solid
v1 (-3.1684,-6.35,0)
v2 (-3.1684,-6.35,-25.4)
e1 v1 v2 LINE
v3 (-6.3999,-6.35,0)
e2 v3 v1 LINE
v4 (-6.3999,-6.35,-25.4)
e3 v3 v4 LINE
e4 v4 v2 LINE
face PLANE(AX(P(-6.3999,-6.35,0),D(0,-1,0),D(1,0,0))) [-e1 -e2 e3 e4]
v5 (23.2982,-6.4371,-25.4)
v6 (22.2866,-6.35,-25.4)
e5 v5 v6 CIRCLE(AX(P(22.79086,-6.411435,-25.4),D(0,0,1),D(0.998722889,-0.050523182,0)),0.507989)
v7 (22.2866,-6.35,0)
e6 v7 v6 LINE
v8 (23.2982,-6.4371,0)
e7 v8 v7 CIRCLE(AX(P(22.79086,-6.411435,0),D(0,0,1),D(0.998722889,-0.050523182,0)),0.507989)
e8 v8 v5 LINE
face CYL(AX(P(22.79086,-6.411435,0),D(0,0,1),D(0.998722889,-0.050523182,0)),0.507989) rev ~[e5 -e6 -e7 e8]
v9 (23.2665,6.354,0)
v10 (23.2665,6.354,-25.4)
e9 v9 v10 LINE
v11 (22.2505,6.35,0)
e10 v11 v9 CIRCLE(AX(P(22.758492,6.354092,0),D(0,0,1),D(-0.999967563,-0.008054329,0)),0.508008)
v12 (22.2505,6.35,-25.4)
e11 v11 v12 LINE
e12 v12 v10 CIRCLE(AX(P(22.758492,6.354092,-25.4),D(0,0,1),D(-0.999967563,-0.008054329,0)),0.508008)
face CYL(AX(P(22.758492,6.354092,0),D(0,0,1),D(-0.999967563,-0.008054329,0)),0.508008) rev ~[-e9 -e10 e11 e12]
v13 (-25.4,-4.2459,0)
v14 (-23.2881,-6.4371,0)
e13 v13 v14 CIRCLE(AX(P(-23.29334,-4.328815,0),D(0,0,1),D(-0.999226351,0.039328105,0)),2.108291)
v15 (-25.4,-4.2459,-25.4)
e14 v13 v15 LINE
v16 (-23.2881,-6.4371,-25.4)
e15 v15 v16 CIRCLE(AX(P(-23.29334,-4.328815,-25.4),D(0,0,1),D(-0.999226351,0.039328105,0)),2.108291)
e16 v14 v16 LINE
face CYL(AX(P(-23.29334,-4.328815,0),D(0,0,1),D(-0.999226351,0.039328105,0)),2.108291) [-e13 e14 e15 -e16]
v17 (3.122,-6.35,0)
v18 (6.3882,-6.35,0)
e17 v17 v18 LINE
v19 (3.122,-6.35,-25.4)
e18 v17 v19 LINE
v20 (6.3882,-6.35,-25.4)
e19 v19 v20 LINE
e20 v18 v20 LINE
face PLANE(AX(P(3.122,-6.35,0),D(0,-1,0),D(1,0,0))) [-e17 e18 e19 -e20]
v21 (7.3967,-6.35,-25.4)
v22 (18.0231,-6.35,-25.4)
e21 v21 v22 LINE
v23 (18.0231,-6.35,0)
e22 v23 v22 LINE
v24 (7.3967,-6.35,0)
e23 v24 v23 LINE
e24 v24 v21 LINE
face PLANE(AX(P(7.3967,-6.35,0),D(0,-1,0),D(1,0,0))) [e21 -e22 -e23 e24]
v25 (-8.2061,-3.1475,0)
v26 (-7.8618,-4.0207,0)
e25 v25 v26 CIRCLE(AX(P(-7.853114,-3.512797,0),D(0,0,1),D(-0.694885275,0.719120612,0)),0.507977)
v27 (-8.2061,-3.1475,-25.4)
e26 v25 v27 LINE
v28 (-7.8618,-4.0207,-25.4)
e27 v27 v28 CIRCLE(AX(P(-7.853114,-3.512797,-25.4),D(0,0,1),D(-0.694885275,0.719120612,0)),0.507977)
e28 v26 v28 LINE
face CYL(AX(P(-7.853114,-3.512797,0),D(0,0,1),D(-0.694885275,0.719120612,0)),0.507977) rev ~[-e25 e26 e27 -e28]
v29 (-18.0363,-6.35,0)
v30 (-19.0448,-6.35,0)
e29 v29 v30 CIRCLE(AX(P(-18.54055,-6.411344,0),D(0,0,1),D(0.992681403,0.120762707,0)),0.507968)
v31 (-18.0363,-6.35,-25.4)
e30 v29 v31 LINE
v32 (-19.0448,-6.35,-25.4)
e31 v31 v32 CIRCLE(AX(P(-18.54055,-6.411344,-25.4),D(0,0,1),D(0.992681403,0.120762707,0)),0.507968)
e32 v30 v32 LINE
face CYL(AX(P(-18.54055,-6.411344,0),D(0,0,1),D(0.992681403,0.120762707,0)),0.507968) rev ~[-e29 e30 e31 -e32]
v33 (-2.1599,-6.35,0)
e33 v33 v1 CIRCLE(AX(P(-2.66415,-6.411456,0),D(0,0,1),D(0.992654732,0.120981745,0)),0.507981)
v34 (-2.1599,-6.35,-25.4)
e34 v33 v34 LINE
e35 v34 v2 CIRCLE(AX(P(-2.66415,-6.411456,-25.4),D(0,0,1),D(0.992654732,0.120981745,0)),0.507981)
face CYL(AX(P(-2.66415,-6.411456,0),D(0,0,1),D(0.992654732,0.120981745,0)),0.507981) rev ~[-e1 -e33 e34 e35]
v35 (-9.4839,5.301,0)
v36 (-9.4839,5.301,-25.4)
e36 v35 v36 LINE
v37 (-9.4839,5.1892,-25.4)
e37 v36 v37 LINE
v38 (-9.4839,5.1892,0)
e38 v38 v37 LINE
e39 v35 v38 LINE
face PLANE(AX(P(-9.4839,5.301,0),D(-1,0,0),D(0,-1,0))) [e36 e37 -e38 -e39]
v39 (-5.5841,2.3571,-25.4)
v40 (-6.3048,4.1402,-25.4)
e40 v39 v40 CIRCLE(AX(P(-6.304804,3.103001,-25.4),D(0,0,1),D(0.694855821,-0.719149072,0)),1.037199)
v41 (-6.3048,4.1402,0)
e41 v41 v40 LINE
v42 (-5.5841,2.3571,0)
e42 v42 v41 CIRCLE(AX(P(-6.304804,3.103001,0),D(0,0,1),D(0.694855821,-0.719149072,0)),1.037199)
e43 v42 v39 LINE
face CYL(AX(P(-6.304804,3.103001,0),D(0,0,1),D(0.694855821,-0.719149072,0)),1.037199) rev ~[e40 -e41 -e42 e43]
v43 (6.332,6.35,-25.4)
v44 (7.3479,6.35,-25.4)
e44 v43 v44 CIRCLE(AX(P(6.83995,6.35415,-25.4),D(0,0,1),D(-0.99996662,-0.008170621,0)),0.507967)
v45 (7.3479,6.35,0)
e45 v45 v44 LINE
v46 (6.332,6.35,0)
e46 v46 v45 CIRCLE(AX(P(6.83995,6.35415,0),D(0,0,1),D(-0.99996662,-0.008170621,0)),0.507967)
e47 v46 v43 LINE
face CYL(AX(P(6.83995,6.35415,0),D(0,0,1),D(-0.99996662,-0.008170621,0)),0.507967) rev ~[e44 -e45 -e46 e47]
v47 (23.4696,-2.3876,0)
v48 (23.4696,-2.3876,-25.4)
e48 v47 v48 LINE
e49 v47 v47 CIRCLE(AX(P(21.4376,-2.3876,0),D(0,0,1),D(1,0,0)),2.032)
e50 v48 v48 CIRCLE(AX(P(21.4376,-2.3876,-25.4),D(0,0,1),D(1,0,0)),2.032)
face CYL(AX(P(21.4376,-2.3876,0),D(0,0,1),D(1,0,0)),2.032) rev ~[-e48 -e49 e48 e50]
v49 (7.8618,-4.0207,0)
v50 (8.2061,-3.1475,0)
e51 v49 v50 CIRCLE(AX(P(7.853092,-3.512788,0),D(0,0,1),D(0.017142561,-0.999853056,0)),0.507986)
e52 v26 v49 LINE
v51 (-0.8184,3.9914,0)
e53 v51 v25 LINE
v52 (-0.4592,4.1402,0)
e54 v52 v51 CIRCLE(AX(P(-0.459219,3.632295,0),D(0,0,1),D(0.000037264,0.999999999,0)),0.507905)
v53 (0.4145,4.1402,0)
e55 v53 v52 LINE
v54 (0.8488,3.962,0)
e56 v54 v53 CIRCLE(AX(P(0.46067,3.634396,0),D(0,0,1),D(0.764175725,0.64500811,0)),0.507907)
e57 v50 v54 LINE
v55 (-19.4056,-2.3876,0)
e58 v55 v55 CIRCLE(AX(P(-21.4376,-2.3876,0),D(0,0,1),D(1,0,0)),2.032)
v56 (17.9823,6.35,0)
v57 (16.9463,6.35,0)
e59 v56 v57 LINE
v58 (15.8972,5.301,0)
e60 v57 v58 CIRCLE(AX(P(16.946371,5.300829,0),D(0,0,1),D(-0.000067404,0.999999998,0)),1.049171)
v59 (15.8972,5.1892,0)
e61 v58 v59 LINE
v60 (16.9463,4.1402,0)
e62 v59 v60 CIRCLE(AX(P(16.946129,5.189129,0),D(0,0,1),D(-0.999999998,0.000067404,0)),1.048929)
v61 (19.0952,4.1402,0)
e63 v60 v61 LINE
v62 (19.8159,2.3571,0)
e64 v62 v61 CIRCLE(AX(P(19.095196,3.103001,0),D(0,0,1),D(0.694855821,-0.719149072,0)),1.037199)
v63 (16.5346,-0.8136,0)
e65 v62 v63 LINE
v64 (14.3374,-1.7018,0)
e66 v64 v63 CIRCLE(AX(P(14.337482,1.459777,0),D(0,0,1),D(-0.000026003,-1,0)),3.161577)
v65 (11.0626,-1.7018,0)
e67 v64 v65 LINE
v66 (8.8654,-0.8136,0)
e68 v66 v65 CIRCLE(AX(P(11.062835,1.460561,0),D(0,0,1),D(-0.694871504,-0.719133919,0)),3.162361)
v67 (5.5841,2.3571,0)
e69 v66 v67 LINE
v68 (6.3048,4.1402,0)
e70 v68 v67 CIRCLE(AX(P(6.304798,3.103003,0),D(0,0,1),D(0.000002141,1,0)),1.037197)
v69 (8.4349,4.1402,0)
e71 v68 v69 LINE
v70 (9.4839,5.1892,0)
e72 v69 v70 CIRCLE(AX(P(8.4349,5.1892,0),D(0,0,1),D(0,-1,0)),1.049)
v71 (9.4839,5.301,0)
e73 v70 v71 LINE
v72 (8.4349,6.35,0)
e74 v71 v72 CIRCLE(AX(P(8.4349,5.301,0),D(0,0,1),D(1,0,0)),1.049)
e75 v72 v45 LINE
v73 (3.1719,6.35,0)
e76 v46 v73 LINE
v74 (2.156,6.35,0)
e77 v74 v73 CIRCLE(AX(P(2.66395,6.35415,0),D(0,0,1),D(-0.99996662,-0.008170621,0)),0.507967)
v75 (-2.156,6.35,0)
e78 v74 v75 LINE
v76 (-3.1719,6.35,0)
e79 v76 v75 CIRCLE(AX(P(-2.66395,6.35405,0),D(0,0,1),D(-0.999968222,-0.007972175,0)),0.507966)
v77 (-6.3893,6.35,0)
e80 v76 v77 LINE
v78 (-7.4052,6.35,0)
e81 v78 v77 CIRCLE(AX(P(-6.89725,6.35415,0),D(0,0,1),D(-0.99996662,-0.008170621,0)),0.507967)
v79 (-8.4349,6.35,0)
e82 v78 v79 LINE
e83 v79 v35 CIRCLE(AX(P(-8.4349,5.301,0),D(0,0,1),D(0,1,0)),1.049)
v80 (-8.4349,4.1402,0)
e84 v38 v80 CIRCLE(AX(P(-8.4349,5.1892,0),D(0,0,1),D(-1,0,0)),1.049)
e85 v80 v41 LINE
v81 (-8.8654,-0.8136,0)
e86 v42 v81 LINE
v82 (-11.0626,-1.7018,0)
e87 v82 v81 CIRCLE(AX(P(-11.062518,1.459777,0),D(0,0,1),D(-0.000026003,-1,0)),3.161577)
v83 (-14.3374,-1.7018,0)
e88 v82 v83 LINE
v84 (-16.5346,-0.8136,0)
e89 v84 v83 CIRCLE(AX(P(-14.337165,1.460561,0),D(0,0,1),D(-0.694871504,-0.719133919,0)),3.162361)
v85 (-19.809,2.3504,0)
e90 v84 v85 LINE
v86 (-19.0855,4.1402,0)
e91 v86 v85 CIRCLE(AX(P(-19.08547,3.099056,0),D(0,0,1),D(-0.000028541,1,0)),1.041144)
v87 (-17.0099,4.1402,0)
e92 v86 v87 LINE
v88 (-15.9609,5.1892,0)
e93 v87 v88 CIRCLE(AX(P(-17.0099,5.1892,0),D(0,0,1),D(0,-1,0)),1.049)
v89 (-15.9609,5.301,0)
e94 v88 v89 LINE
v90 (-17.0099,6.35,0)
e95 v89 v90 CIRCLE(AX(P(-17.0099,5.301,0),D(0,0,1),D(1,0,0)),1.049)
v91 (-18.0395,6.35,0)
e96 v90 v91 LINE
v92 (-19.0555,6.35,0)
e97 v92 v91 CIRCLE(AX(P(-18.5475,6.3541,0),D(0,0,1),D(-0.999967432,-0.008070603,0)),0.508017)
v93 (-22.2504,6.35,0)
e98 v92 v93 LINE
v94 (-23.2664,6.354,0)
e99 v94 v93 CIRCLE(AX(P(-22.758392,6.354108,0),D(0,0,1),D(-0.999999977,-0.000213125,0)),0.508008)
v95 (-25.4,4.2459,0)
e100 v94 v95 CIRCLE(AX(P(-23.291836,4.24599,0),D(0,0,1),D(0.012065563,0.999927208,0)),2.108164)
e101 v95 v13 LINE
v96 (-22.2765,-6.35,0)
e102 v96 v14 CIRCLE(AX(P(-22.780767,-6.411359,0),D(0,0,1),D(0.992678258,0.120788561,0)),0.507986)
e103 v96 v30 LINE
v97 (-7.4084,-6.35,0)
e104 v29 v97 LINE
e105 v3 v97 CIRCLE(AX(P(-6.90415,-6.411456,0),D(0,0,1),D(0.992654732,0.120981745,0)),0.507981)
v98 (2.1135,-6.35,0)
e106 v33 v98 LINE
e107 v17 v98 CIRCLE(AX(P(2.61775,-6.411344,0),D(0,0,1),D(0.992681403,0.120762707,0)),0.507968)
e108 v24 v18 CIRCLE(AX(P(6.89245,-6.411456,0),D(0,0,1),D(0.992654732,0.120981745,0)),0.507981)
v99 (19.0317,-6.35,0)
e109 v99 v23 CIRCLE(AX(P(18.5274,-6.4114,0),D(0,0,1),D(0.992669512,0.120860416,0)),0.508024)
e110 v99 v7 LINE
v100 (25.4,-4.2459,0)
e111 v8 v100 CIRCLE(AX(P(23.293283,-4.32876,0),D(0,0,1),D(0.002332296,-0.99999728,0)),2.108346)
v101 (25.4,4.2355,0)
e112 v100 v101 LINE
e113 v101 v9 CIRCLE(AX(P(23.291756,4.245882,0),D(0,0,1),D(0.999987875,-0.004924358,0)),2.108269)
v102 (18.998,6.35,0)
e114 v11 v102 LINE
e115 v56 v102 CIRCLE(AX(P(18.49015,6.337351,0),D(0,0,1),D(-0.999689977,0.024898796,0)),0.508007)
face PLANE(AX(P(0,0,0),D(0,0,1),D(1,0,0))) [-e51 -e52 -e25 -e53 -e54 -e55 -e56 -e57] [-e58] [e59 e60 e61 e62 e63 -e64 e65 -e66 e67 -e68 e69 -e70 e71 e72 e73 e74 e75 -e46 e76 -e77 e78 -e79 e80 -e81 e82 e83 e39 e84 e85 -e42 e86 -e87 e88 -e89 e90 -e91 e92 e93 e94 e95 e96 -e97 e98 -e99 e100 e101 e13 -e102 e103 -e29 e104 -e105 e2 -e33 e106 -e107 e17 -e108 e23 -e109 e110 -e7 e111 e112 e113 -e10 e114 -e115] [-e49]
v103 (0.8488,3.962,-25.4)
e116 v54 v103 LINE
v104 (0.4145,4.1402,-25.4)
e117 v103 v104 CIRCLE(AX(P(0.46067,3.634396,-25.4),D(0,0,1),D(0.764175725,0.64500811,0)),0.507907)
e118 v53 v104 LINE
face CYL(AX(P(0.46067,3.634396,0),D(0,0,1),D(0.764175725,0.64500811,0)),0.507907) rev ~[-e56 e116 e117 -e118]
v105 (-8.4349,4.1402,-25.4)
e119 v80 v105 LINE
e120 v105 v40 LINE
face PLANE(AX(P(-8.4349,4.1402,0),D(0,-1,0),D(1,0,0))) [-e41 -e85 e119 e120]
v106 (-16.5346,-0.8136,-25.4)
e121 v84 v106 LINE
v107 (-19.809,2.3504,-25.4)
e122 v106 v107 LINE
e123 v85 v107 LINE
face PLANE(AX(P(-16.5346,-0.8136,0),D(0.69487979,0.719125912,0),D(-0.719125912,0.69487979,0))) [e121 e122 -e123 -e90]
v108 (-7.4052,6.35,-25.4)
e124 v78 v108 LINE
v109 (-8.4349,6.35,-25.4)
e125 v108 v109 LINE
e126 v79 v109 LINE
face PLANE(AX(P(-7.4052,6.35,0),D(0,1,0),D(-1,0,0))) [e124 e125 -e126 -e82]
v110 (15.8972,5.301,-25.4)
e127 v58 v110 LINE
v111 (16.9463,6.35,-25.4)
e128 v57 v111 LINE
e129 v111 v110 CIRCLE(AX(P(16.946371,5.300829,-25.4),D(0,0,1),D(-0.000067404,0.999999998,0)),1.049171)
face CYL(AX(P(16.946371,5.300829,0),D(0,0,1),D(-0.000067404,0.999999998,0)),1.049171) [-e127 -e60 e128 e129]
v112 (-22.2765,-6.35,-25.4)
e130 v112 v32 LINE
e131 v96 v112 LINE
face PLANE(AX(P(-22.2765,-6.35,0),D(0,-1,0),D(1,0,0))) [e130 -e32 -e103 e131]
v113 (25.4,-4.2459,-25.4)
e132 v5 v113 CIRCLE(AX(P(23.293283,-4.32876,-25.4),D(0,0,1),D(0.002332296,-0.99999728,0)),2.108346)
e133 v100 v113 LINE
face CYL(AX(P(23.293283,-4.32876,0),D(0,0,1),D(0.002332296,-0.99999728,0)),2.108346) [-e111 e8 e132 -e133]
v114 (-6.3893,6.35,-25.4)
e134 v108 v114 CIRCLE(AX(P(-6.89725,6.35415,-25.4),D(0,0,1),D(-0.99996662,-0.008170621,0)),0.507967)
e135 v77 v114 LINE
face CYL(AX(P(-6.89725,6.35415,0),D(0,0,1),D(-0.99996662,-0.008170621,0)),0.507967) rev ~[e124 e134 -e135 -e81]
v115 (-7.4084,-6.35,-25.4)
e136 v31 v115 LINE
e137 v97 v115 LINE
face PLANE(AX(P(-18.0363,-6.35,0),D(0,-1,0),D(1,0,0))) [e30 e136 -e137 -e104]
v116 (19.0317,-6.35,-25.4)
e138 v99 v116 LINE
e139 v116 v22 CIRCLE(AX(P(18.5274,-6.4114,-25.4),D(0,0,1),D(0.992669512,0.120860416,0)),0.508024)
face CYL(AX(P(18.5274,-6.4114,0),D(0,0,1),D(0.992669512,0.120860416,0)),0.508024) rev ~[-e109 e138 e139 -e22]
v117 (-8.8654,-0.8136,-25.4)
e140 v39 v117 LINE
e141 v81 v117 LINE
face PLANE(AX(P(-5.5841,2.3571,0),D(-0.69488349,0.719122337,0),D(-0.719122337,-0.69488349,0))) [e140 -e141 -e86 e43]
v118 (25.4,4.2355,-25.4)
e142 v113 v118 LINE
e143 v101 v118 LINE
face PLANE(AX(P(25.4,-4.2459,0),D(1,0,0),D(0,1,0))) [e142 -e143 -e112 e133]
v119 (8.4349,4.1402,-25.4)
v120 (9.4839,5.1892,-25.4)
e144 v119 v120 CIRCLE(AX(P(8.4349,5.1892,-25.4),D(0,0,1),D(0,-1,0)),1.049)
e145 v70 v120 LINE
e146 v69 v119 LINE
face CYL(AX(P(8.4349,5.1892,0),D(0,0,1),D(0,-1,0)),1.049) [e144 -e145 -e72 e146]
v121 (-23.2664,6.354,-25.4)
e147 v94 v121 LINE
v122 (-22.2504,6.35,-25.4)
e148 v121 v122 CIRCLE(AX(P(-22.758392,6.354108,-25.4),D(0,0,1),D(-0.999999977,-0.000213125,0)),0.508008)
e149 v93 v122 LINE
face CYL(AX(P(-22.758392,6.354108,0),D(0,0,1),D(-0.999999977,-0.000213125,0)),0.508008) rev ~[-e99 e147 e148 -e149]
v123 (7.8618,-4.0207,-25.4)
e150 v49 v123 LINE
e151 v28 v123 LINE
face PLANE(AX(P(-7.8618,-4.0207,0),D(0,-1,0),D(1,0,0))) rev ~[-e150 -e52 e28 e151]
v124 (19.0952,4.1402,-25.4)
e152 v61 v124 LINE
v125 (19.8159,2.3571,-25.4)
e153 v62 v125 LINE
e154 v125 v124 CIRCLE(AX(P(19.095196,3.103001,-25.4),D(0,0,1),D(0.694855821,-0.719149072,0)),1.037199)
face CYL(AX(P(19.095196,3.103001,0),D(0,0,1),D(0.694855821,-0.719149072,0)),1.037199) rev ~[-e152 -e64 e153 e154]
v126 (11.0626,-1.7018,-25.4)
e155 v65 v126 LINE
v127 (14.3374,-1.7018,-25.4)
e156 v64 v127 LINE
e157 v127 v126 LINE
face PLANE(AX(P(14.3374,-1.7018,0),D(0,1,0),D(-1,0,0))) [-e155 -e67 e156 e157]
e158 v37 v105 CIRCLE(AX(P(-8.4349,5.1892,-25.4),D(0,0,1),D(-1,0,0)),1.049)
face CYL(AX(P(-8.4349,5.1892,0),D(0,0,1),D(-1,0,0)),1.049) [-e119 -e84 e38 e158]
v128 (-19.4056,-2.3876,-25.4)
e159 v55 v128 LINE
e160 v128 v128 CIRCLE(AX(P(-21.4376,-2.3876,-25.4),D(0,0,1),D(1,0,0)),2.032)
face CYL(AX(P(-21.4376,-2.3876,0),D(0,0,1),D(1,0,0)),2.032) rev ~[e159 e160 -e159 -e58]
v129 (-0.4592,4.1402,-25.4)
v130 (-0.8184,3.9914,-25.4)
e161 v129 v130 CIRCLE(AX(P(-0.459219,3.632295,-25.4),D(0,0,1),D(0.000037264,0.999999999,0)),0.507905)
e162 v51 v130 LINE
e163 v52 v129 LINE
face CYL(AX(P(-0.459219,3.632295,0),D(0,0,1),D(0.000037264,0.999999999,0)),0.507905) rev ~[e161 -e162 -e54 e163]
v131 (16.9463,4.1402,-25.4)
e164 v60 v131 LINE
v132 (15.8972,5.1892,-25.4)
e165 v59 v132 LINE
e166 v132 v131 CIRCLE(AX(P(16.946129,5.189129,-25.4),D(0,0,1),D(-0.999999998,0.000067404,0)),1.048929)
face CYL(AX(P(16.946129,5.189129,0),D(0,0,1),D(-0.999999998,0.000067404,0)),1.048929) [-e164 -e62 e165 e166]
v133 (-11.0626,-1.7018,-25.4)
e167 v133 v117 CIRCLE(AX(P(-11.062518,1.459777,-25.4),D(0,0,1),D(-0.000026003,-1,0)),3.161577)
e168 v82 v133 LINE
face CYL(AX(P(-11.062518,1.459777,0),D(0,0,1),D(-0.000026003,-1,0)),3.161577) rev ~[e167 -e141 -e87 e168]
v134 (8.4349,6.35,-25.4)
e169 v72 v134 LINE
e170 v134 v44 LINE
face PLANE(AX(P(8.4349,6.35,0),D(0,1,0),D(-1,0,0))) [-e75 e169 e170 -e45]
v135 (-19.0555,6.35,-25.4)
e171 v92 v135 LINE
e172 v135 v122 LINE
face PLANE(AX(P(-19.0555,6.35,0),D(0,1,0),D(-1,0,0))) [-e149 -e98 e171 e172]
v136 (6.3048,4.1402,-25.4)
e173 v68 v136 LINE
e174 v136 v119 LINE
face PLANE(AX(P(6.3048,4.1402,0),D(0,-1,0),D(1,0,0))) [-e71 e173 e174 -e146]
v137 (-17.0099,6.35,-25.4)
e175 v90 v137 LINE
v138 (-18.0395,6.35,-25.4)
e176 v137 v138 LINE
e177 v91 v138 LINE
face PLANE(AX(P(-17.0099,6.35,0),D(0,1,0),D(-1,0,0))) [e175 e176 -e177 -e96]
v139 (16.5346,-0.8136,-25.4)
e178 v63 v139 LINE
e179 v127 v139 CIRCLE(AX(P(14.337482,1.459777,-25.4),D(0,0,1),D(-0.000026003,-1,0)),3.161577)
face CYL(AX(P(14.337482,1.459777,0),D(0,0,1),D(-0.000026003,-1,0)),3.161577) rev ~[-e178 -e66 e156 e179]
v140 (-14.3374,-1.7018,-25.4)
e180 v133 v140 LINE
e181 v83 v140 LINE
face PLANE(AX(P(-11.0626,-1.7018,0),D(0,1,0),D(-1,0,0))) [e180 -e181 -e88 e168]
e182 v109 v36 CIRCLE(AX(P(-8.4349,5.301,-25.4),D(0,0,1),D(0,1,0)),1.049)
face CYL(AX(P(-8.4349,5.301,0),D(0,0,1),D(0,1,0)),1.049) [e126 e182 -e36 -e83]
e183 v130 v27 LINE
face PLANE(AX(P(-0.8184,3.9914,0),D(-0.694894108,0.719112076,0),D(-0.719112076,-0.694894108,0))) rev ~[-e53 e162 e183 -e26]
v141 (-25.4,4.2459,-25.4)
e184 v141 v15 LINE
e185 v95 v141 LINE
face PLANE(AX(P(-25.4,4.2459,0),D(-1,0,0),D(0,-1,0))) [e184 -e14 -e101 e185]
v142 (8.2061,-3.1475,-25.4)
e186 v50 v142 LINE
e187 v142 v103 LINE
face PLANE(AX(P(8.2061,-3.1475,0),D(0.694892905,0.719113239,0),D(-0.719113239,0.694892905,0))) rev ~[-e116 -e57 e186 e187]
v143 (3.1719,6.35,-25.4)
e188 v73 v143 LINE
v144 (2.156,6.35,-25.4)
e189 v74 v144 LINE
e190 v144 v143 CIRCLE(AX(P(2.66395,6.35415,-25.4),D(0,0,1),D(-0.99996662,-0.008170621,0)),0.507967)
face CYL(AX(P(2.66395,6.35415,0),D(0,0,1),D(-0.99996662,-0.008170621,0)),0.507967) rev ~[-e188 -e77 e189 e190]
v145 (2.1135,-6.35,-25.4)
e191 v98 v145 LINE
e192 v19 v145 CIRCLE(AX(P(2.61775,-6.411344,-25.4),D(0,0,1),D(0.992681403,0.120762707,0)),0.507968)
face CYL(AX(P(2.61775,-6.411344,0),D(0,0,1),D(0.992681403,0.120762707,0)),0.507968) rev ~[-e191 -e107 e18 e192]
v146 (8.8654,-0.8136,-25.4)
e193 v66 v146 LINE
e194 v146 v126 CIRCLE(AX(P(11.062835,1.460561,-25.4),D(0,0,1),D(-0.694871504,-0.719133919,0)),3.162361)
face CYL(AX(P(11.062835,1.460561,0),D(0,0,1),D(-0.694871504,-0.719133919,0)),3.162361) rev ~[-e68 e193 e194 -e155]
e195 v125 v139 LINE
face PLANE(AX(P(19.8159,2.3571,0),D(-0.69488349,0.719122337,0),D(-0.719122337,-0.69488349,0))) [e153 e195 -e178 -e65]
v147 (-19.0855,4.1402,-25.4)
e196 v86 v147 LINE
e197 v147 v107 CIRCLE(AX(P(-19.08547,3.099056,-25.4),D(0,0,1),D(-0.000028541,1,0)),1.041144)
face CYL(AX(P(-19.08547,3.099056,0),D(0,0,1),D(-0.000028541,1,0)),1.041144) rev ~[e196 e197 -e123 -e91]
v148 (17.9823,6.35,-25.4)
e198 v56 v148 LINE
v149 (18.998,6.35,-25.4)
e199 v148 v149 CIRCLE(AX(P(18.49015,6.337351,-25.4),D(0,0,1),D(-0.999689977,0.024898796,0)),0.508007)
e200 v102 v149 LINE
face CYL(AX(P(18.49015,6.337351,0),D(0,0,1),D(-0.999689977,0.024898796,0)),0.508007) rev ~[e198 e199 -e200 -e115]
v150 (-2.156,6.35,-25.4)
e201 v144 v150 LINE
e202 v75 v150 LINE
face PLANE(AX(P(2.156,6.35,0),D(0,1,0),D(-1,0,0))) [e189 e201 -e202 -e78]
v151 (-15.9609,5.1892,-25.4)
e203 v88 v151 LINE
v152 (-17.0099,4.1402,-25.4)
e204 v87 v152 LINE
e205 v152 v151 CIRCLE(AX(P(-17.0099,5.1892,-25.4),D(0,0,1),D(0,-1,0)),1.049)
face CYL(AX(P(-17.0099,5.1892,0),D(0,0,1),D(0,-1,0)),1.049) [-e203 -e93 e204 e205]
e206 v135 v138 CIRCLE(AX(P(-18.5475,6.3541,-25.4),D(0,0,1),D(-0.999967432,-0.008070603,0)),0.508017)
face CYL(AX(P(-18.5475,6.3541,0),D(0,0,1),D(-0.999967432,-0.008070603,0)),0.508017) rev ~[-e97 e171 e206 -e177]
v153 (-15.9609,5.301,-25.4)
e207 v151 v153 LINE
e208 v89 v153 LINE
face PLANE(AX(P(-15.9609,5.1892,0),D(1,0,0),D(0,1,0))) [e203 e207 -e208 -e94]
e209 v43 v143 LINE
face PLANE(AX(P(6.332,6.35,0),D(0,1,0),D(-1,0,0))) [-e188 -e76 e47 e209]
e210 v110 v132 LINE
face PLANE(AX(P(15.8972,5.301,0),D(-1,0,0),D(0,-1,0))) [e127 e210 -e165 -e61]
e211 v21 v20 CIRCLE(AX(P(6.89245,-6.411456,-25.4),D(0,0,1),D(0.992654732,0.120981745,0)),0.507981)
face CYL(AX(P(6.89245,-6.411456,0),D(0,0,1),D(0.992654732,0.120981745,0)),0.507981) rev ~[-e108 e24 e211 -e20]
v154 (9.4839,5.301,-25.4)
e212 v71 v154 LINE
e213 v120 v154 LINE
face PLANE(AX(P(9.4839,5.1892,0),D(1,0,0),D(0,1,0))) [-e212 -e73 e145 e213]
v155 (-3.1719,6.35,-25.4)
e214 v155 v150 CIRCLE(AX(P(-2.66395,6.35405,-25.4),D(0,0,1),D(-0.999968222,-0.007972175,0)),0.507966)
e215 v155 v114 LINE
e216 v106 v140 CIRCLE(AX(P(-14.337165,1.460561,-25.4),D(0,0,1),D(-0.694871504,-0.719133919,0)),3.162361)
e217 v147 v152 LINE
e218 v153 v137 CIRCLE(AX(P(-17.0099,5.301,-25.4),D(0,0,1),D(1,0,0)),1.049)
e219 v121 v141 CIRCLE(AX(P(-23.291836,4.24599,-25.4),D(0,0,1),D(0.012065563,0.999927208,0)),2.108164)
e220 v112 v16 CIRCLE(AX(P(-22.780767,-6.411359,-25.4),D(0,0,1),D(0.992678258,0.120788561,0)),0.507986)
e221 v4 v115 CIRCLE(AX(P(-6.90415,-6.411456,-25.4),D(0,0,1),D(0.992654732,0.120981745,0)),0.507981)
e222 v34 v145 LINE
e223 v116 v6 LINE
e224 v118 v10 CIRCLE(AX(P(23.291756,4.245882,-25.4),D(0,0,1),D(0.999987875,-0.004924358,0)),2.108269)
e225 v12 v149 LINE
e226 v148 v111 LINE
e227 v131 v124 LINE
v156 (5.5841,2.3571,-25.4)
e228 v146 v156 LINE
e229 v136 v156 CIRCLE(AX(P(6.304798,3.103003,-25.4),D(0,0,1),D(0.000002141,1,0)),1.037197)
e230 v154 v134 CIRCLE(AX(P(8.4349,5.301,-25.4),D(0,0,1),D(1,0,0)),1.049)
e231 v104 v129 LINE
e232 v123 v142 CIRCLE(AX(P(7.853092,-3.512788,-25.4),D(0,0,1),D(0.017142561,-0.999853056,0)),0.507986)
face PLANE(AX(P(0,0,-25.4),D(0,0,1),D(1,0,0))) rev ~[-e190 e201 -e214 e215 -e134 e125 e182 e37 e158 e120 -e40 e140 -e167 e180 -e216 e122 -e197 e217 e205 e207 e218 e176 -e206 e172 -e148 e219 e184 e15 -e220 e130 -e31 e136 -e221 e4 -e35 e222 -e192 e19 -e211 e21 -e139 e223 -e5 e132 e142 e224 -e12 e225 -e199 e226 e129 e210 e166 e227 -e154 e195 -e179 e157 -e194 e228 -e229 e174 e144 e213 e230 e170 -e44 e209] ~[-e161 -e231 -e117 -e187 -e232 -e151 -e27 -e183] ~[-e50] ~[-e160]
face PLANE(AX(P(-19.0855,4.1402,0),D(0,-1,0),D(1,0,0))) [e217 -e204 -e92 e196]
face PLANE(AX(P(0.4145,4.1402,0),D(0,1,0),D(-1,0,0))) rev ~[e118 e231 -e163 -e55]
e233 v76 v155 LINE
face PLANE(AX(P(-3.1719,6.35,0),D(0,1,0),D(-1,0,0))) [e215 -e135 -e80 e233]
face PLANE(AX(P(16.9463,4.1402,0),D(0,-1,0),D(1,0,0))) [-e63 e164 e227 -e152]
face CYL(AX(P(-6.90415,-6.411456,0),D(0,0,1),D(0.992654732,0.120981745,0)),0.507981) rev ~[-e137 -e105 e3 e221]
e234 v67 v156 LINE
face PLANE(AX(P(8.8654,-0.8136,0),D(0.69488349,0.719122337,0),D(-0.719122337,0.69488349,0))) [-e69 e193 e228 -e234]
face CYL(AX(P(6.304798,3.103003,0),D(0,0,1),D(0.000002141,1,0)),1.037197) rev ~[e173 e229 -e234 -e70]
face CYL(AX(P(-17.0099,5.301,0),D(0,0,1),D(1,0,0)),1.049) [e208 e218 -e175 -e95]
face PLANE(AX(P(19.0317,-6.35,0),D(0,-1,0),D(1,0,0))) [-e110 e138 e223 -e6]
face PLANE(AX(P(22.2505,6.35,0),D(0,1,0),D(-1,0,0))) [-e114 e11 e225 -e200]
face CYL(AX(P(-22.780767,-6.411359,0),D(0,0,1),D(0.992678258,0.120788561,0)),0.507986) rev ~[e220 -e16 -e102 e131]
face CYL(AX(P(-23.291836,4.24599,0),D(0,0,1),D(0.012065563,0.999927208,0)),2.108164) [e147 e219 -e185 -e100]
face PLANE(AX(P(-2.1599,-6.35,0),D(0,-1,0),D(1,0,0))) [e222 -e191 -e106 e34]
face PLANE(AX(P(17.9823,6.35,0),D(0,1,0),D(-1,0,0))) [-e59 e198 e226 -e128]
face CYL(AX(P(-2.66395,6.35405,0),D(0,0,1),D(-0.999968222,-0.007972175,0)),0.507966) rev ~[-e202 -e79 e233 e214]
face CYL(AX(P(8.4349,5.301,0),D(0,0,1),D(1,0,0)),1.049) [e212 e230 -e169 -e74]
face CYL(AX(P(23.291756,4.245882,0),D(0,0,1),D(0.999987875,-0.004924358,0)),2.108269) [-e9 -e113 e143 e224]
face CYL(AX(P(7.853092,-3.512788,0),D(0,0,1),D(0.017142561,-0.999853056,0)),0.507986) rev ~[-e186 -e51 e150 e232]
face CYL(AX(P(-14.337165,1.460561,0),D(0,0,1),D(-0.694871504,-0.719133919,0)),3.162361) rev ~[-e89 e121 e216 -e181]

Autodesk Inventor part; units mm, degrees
ref_plane "YZ Plane" through (0, 0, 0) normal (1, 0, 0) x (0, 1, 0)
ref_plane "XZ Plane" through (0, 0, 0) normal (0, 1, 0) x (-1, 0, 0)
ref_plane "XY Plane" through (0, 0, 0) normal (0, 0, 1) x (1, 0, 0)
sketch "Sketch1" plane through (0, 0, 0) normal (0, 0, 1) x (1, 0, 0)
  arc A0 (-8.2061, -3.1475) -> (-7.8618, -4.0207) centre (-7.8531, -3.5128) ccw
  line L0 (-0.8184, 3.9914) -> (-8.2061, -3.1475)
  arc A1 (-0.4592, 4.1402) -> (-0.8184, 3.9914) centre (-0.4592, 3.6322) ccw
  line L1 (0.4145, 4.1402) -> (-0.4592, 4.1402)
  arc A2 (0.8488, 3.962) -> (0.4145, 4.1402) centre (0.4606, 3.6343) ccw
  line L2 (8.2061, -3.1475) -> (0.8488, 3.962)
  arc A3 (7.8618, -4.0207) -> (8.2061, -3.1475) centre (7.8531, -3.5128) ccw
  line L3 (-7.8618, -4.0207) -> (7.8618, -4.0207)
  circle A4 centre (21.4376, -2.3876) radius 2.032
  circle A5 centre (-21.4376, -2.3876) radius 2.032
  arc A6 (16.9463, 6.35) -> (15.8972, 5.301) centre (16.9463, 5.301) ccw
  line L4 (15.8972, 5.301) -> (15.8972, 5.1892)
  arc A7 (15.8972, 5.1892) -> (16.9463, 4.1402) centre (16.9463, 5.1892) ccw
  line L5 (16.9463, 4.1402) -> (19.0952, 4.1402)
  arc A8 (19.8159, 2.3571) -> (19.0952, 4.1402) centre (19.0952, 3.103) ccw
  line L6 (19.8159, 2.3571) -> (16.5346, -0.8136)
  arc A9 (14.3374, -1.7018) -> (16.5346, -0.8136) centre (14.3374, 1.4602) ccw
  line L7 (14.3374, -1.7018) -> (11.0626, -1.7018)
  arc A10 (8.8654, -0.8136) -> (11.0626, -1.7018) centre (11.0626, 1.4602) ccw
  line L8 (8.8654, -0.8136) -> (5.5841, 2.3571)
  arc A11 (6.3048, 4.1402) -> (5.5841, 2.3571) centre (6.3048, 3.103) ccw
  line L9 (6.3048, 4.1402) -> (8.4349, 4.1402)
  arc A12 (8.4349, 4.1402) -> (9.4839, 5.1892) centre (8.4349, 5.1892) ccw
  line L10 (9.4839, 5.1892) -> (9.4839, 5.301)
  arc A13 (9.4839, 5.301) -> (8.4349, 6.35) centre (8.4349, 5.301) ccw
  line L11 (8.4349, 6.35) -> (7.3479, 6.35)
  arc A14 (6.332, 6.35) -> (7.3479, 6.35) centre (6.8399, 6.3541) ccw
  line L12 (6.332, 6.35) -> (3.1719, 6.35)
  arc A15 (2.156, 6.35) -> (3.1719, 6.35) centre (2.6639, 6.3541) ccw
  line L13 (2.156, 6.35) -> (-2.156, 6.35)
  arc A16 (-3.1719, 6.35) -> (-2.156, 6.35) centre (-2.6639, 6.3541) ccw
  line L14 (-3.1719, 6.35) -> (-6.3893, 6.35)
  arc A17 (-7.4052, 6.35) -> (-6.3893, 6.35) centre (-6.8973, 6.3541) ccw
  line L15 (-7.4052, 6.35) -> (-8.4349, 6.35)
  arc A18 (-8.4349, 6.35) -> (-9.4839, 5.301) centre (-8.4349, 5.301) ccw
  line L16 (-9.4839, 5.301) -> (-9.4839, 5.1892)
  arc A19 (-9.4839, 5.1892) -> (-8.4349, 4.1402) centre (-8.4349, 5.1892) ccw
  line L17 (-8.4349, 4.1402) -> (-6.3048, 4.1402)
  arc A20 (-5.5841, 2.3571) -> (-6.3048, 4.1402) centre (-6.3048, 3.103) ccw
  line L18 (-5.5841, 2.3571) -> (-8.8654, -0.8136)
  arc A21 (-11.0626, -1.7018) -> (-8.8654, -0.8136) centre (-11.0626, 1.4602) ccw
  line L19 (-11.0626, -1.7018) -> (-14.3374, -1.7018)
  arc A22 (-16.5346, -0.8136) -> (-14.3374, -1.7018) centre (-14.3374, 1.4602) ccw
  line L20 (-16.5346, -0.8136) -> (-19.809, 2.3504)
  arc A23 (-19.0855, 4.1402) -> (-19.809, 2.3504) centre (-19.0855, 3.0991) ccw
  line L21 (-19.0855, 4.1402) -> (-17.0099, 4.1402)
  arc A24 (-17.0099, 4.1402) -> (-15.9609, 5.1892) centre (-17.0099, 5.1892) ccw
  line L22 (-15.9609, 5.1892) -> (-15.9609, 5.301)
  arc A25 (-15.9609, 5.301) -> (-17.0099, 6.35) centre (-17.0099, 5.301) ccw
  line L23 (-17.0099, 6.35) -> (-18.0395, 6.35)
  arc A26 (-19.0555, 6.35) -> (-18.0395, 6.35) centre (-18.5475, 6.3541) ccw
  line L24 (-19.0555, 6.35) -> (-22.2504, 6.35)
  arc A27 (-23.2664, 6.354) -> (-22.2504, 6.35) centre (-22.7584, 6.3541) ccw
  arc A28 (-23.2664, 6.354) -> (-25.4, 4.2459) centre (-23.2918, 4.2459) ccw
  line L25 (-25.4, 4.2459) -> (-25.4, -4.2459)
  arc A29 (-25.4, -4.2459) -> (-23.2881, -6.4371) centre (-23.2933, -4.3288) ccw
  arc A30 (-22.2765, -6.35) -> (-23.2881, -6.4371) centre (-22.7808, -6.4114) ccw
  line L26 (-22.2765, -6.35) -> (-19.0448, -6.35)
  arc A31 (-18.0363, -6.35) -> (-19.0448, -6.35) centre (-18.5406, -6.4114) ccw
  line L27 (-18.0363, -6.35) -> (-7.4084, -6.35)
  arc A32 (-6.3999, -6.35) -> (-7.4084, -6.35) centre (-6.9041, -6.4114) ccw
  line L28 (-6.3999, -6.35) -> (-3.1684, -6.35)
  arc A33 (-2.1599, -6.35) -> (-3.1684, -6.35) centre (-2.6641, -6.4114) ccw
  line L29 (-2.1599, -6.35) -> (2.1135, -6.35)
  arc A34 (3.122, -6.35) -> (2.1135, -6.35) centre (2.6177, -6.4114) ccw
  line L30 (3.122, -6.35) -> (6.3882, -6.35)
  arc A35 (7.3967, -6.35) -> (6.3882, -6.35) centre (6.8925, -6.4114) ccw
  line L31 (7.3967, -6.35) -> (18.0231, -6.35)
  arc A36 (19.0317, -6.35) -> (18.0231, -6.35) centre (18.5274, -6.4114) ccw
  line L32 (19.0317, -6.35) -> (22.2866, -6.35)
  arc A37 (23.2982, -6.4371) -> (22.2866, -6.35) centre (22.7909, -6.4114) ccw
  arc A38 (23.2982, -6.4371) -> (25.4, -4.2459) centre (23.2933, -4.3288) ccw
  line L33 (25.4, -4.2459) -> (25.4, 4.2355)
  arc A39 (25.4, 4.2355) -> (23.2665, 6.354) centre (23.2918, 4.2459) ccw
  arc A40 (22.2505, 6.35) -> (23.2665, 6.354) centre (22.7585, 6.3541) ccw
  line L34 (22.2505, 6.35) -> (18.998, 6.35)
  arc A41 (17.9823, 6.35) -> (18.998, 6.35) centre (18.4902, 6.3374) ccw
  line L35 (17.9823, 6.35) -> (16.9463, 6.35)
  point P0 (0, 0)
extrude "Extrusion1" add sketch "Sketch1" against normal blind 25.4
properties part number "1in_2012"
